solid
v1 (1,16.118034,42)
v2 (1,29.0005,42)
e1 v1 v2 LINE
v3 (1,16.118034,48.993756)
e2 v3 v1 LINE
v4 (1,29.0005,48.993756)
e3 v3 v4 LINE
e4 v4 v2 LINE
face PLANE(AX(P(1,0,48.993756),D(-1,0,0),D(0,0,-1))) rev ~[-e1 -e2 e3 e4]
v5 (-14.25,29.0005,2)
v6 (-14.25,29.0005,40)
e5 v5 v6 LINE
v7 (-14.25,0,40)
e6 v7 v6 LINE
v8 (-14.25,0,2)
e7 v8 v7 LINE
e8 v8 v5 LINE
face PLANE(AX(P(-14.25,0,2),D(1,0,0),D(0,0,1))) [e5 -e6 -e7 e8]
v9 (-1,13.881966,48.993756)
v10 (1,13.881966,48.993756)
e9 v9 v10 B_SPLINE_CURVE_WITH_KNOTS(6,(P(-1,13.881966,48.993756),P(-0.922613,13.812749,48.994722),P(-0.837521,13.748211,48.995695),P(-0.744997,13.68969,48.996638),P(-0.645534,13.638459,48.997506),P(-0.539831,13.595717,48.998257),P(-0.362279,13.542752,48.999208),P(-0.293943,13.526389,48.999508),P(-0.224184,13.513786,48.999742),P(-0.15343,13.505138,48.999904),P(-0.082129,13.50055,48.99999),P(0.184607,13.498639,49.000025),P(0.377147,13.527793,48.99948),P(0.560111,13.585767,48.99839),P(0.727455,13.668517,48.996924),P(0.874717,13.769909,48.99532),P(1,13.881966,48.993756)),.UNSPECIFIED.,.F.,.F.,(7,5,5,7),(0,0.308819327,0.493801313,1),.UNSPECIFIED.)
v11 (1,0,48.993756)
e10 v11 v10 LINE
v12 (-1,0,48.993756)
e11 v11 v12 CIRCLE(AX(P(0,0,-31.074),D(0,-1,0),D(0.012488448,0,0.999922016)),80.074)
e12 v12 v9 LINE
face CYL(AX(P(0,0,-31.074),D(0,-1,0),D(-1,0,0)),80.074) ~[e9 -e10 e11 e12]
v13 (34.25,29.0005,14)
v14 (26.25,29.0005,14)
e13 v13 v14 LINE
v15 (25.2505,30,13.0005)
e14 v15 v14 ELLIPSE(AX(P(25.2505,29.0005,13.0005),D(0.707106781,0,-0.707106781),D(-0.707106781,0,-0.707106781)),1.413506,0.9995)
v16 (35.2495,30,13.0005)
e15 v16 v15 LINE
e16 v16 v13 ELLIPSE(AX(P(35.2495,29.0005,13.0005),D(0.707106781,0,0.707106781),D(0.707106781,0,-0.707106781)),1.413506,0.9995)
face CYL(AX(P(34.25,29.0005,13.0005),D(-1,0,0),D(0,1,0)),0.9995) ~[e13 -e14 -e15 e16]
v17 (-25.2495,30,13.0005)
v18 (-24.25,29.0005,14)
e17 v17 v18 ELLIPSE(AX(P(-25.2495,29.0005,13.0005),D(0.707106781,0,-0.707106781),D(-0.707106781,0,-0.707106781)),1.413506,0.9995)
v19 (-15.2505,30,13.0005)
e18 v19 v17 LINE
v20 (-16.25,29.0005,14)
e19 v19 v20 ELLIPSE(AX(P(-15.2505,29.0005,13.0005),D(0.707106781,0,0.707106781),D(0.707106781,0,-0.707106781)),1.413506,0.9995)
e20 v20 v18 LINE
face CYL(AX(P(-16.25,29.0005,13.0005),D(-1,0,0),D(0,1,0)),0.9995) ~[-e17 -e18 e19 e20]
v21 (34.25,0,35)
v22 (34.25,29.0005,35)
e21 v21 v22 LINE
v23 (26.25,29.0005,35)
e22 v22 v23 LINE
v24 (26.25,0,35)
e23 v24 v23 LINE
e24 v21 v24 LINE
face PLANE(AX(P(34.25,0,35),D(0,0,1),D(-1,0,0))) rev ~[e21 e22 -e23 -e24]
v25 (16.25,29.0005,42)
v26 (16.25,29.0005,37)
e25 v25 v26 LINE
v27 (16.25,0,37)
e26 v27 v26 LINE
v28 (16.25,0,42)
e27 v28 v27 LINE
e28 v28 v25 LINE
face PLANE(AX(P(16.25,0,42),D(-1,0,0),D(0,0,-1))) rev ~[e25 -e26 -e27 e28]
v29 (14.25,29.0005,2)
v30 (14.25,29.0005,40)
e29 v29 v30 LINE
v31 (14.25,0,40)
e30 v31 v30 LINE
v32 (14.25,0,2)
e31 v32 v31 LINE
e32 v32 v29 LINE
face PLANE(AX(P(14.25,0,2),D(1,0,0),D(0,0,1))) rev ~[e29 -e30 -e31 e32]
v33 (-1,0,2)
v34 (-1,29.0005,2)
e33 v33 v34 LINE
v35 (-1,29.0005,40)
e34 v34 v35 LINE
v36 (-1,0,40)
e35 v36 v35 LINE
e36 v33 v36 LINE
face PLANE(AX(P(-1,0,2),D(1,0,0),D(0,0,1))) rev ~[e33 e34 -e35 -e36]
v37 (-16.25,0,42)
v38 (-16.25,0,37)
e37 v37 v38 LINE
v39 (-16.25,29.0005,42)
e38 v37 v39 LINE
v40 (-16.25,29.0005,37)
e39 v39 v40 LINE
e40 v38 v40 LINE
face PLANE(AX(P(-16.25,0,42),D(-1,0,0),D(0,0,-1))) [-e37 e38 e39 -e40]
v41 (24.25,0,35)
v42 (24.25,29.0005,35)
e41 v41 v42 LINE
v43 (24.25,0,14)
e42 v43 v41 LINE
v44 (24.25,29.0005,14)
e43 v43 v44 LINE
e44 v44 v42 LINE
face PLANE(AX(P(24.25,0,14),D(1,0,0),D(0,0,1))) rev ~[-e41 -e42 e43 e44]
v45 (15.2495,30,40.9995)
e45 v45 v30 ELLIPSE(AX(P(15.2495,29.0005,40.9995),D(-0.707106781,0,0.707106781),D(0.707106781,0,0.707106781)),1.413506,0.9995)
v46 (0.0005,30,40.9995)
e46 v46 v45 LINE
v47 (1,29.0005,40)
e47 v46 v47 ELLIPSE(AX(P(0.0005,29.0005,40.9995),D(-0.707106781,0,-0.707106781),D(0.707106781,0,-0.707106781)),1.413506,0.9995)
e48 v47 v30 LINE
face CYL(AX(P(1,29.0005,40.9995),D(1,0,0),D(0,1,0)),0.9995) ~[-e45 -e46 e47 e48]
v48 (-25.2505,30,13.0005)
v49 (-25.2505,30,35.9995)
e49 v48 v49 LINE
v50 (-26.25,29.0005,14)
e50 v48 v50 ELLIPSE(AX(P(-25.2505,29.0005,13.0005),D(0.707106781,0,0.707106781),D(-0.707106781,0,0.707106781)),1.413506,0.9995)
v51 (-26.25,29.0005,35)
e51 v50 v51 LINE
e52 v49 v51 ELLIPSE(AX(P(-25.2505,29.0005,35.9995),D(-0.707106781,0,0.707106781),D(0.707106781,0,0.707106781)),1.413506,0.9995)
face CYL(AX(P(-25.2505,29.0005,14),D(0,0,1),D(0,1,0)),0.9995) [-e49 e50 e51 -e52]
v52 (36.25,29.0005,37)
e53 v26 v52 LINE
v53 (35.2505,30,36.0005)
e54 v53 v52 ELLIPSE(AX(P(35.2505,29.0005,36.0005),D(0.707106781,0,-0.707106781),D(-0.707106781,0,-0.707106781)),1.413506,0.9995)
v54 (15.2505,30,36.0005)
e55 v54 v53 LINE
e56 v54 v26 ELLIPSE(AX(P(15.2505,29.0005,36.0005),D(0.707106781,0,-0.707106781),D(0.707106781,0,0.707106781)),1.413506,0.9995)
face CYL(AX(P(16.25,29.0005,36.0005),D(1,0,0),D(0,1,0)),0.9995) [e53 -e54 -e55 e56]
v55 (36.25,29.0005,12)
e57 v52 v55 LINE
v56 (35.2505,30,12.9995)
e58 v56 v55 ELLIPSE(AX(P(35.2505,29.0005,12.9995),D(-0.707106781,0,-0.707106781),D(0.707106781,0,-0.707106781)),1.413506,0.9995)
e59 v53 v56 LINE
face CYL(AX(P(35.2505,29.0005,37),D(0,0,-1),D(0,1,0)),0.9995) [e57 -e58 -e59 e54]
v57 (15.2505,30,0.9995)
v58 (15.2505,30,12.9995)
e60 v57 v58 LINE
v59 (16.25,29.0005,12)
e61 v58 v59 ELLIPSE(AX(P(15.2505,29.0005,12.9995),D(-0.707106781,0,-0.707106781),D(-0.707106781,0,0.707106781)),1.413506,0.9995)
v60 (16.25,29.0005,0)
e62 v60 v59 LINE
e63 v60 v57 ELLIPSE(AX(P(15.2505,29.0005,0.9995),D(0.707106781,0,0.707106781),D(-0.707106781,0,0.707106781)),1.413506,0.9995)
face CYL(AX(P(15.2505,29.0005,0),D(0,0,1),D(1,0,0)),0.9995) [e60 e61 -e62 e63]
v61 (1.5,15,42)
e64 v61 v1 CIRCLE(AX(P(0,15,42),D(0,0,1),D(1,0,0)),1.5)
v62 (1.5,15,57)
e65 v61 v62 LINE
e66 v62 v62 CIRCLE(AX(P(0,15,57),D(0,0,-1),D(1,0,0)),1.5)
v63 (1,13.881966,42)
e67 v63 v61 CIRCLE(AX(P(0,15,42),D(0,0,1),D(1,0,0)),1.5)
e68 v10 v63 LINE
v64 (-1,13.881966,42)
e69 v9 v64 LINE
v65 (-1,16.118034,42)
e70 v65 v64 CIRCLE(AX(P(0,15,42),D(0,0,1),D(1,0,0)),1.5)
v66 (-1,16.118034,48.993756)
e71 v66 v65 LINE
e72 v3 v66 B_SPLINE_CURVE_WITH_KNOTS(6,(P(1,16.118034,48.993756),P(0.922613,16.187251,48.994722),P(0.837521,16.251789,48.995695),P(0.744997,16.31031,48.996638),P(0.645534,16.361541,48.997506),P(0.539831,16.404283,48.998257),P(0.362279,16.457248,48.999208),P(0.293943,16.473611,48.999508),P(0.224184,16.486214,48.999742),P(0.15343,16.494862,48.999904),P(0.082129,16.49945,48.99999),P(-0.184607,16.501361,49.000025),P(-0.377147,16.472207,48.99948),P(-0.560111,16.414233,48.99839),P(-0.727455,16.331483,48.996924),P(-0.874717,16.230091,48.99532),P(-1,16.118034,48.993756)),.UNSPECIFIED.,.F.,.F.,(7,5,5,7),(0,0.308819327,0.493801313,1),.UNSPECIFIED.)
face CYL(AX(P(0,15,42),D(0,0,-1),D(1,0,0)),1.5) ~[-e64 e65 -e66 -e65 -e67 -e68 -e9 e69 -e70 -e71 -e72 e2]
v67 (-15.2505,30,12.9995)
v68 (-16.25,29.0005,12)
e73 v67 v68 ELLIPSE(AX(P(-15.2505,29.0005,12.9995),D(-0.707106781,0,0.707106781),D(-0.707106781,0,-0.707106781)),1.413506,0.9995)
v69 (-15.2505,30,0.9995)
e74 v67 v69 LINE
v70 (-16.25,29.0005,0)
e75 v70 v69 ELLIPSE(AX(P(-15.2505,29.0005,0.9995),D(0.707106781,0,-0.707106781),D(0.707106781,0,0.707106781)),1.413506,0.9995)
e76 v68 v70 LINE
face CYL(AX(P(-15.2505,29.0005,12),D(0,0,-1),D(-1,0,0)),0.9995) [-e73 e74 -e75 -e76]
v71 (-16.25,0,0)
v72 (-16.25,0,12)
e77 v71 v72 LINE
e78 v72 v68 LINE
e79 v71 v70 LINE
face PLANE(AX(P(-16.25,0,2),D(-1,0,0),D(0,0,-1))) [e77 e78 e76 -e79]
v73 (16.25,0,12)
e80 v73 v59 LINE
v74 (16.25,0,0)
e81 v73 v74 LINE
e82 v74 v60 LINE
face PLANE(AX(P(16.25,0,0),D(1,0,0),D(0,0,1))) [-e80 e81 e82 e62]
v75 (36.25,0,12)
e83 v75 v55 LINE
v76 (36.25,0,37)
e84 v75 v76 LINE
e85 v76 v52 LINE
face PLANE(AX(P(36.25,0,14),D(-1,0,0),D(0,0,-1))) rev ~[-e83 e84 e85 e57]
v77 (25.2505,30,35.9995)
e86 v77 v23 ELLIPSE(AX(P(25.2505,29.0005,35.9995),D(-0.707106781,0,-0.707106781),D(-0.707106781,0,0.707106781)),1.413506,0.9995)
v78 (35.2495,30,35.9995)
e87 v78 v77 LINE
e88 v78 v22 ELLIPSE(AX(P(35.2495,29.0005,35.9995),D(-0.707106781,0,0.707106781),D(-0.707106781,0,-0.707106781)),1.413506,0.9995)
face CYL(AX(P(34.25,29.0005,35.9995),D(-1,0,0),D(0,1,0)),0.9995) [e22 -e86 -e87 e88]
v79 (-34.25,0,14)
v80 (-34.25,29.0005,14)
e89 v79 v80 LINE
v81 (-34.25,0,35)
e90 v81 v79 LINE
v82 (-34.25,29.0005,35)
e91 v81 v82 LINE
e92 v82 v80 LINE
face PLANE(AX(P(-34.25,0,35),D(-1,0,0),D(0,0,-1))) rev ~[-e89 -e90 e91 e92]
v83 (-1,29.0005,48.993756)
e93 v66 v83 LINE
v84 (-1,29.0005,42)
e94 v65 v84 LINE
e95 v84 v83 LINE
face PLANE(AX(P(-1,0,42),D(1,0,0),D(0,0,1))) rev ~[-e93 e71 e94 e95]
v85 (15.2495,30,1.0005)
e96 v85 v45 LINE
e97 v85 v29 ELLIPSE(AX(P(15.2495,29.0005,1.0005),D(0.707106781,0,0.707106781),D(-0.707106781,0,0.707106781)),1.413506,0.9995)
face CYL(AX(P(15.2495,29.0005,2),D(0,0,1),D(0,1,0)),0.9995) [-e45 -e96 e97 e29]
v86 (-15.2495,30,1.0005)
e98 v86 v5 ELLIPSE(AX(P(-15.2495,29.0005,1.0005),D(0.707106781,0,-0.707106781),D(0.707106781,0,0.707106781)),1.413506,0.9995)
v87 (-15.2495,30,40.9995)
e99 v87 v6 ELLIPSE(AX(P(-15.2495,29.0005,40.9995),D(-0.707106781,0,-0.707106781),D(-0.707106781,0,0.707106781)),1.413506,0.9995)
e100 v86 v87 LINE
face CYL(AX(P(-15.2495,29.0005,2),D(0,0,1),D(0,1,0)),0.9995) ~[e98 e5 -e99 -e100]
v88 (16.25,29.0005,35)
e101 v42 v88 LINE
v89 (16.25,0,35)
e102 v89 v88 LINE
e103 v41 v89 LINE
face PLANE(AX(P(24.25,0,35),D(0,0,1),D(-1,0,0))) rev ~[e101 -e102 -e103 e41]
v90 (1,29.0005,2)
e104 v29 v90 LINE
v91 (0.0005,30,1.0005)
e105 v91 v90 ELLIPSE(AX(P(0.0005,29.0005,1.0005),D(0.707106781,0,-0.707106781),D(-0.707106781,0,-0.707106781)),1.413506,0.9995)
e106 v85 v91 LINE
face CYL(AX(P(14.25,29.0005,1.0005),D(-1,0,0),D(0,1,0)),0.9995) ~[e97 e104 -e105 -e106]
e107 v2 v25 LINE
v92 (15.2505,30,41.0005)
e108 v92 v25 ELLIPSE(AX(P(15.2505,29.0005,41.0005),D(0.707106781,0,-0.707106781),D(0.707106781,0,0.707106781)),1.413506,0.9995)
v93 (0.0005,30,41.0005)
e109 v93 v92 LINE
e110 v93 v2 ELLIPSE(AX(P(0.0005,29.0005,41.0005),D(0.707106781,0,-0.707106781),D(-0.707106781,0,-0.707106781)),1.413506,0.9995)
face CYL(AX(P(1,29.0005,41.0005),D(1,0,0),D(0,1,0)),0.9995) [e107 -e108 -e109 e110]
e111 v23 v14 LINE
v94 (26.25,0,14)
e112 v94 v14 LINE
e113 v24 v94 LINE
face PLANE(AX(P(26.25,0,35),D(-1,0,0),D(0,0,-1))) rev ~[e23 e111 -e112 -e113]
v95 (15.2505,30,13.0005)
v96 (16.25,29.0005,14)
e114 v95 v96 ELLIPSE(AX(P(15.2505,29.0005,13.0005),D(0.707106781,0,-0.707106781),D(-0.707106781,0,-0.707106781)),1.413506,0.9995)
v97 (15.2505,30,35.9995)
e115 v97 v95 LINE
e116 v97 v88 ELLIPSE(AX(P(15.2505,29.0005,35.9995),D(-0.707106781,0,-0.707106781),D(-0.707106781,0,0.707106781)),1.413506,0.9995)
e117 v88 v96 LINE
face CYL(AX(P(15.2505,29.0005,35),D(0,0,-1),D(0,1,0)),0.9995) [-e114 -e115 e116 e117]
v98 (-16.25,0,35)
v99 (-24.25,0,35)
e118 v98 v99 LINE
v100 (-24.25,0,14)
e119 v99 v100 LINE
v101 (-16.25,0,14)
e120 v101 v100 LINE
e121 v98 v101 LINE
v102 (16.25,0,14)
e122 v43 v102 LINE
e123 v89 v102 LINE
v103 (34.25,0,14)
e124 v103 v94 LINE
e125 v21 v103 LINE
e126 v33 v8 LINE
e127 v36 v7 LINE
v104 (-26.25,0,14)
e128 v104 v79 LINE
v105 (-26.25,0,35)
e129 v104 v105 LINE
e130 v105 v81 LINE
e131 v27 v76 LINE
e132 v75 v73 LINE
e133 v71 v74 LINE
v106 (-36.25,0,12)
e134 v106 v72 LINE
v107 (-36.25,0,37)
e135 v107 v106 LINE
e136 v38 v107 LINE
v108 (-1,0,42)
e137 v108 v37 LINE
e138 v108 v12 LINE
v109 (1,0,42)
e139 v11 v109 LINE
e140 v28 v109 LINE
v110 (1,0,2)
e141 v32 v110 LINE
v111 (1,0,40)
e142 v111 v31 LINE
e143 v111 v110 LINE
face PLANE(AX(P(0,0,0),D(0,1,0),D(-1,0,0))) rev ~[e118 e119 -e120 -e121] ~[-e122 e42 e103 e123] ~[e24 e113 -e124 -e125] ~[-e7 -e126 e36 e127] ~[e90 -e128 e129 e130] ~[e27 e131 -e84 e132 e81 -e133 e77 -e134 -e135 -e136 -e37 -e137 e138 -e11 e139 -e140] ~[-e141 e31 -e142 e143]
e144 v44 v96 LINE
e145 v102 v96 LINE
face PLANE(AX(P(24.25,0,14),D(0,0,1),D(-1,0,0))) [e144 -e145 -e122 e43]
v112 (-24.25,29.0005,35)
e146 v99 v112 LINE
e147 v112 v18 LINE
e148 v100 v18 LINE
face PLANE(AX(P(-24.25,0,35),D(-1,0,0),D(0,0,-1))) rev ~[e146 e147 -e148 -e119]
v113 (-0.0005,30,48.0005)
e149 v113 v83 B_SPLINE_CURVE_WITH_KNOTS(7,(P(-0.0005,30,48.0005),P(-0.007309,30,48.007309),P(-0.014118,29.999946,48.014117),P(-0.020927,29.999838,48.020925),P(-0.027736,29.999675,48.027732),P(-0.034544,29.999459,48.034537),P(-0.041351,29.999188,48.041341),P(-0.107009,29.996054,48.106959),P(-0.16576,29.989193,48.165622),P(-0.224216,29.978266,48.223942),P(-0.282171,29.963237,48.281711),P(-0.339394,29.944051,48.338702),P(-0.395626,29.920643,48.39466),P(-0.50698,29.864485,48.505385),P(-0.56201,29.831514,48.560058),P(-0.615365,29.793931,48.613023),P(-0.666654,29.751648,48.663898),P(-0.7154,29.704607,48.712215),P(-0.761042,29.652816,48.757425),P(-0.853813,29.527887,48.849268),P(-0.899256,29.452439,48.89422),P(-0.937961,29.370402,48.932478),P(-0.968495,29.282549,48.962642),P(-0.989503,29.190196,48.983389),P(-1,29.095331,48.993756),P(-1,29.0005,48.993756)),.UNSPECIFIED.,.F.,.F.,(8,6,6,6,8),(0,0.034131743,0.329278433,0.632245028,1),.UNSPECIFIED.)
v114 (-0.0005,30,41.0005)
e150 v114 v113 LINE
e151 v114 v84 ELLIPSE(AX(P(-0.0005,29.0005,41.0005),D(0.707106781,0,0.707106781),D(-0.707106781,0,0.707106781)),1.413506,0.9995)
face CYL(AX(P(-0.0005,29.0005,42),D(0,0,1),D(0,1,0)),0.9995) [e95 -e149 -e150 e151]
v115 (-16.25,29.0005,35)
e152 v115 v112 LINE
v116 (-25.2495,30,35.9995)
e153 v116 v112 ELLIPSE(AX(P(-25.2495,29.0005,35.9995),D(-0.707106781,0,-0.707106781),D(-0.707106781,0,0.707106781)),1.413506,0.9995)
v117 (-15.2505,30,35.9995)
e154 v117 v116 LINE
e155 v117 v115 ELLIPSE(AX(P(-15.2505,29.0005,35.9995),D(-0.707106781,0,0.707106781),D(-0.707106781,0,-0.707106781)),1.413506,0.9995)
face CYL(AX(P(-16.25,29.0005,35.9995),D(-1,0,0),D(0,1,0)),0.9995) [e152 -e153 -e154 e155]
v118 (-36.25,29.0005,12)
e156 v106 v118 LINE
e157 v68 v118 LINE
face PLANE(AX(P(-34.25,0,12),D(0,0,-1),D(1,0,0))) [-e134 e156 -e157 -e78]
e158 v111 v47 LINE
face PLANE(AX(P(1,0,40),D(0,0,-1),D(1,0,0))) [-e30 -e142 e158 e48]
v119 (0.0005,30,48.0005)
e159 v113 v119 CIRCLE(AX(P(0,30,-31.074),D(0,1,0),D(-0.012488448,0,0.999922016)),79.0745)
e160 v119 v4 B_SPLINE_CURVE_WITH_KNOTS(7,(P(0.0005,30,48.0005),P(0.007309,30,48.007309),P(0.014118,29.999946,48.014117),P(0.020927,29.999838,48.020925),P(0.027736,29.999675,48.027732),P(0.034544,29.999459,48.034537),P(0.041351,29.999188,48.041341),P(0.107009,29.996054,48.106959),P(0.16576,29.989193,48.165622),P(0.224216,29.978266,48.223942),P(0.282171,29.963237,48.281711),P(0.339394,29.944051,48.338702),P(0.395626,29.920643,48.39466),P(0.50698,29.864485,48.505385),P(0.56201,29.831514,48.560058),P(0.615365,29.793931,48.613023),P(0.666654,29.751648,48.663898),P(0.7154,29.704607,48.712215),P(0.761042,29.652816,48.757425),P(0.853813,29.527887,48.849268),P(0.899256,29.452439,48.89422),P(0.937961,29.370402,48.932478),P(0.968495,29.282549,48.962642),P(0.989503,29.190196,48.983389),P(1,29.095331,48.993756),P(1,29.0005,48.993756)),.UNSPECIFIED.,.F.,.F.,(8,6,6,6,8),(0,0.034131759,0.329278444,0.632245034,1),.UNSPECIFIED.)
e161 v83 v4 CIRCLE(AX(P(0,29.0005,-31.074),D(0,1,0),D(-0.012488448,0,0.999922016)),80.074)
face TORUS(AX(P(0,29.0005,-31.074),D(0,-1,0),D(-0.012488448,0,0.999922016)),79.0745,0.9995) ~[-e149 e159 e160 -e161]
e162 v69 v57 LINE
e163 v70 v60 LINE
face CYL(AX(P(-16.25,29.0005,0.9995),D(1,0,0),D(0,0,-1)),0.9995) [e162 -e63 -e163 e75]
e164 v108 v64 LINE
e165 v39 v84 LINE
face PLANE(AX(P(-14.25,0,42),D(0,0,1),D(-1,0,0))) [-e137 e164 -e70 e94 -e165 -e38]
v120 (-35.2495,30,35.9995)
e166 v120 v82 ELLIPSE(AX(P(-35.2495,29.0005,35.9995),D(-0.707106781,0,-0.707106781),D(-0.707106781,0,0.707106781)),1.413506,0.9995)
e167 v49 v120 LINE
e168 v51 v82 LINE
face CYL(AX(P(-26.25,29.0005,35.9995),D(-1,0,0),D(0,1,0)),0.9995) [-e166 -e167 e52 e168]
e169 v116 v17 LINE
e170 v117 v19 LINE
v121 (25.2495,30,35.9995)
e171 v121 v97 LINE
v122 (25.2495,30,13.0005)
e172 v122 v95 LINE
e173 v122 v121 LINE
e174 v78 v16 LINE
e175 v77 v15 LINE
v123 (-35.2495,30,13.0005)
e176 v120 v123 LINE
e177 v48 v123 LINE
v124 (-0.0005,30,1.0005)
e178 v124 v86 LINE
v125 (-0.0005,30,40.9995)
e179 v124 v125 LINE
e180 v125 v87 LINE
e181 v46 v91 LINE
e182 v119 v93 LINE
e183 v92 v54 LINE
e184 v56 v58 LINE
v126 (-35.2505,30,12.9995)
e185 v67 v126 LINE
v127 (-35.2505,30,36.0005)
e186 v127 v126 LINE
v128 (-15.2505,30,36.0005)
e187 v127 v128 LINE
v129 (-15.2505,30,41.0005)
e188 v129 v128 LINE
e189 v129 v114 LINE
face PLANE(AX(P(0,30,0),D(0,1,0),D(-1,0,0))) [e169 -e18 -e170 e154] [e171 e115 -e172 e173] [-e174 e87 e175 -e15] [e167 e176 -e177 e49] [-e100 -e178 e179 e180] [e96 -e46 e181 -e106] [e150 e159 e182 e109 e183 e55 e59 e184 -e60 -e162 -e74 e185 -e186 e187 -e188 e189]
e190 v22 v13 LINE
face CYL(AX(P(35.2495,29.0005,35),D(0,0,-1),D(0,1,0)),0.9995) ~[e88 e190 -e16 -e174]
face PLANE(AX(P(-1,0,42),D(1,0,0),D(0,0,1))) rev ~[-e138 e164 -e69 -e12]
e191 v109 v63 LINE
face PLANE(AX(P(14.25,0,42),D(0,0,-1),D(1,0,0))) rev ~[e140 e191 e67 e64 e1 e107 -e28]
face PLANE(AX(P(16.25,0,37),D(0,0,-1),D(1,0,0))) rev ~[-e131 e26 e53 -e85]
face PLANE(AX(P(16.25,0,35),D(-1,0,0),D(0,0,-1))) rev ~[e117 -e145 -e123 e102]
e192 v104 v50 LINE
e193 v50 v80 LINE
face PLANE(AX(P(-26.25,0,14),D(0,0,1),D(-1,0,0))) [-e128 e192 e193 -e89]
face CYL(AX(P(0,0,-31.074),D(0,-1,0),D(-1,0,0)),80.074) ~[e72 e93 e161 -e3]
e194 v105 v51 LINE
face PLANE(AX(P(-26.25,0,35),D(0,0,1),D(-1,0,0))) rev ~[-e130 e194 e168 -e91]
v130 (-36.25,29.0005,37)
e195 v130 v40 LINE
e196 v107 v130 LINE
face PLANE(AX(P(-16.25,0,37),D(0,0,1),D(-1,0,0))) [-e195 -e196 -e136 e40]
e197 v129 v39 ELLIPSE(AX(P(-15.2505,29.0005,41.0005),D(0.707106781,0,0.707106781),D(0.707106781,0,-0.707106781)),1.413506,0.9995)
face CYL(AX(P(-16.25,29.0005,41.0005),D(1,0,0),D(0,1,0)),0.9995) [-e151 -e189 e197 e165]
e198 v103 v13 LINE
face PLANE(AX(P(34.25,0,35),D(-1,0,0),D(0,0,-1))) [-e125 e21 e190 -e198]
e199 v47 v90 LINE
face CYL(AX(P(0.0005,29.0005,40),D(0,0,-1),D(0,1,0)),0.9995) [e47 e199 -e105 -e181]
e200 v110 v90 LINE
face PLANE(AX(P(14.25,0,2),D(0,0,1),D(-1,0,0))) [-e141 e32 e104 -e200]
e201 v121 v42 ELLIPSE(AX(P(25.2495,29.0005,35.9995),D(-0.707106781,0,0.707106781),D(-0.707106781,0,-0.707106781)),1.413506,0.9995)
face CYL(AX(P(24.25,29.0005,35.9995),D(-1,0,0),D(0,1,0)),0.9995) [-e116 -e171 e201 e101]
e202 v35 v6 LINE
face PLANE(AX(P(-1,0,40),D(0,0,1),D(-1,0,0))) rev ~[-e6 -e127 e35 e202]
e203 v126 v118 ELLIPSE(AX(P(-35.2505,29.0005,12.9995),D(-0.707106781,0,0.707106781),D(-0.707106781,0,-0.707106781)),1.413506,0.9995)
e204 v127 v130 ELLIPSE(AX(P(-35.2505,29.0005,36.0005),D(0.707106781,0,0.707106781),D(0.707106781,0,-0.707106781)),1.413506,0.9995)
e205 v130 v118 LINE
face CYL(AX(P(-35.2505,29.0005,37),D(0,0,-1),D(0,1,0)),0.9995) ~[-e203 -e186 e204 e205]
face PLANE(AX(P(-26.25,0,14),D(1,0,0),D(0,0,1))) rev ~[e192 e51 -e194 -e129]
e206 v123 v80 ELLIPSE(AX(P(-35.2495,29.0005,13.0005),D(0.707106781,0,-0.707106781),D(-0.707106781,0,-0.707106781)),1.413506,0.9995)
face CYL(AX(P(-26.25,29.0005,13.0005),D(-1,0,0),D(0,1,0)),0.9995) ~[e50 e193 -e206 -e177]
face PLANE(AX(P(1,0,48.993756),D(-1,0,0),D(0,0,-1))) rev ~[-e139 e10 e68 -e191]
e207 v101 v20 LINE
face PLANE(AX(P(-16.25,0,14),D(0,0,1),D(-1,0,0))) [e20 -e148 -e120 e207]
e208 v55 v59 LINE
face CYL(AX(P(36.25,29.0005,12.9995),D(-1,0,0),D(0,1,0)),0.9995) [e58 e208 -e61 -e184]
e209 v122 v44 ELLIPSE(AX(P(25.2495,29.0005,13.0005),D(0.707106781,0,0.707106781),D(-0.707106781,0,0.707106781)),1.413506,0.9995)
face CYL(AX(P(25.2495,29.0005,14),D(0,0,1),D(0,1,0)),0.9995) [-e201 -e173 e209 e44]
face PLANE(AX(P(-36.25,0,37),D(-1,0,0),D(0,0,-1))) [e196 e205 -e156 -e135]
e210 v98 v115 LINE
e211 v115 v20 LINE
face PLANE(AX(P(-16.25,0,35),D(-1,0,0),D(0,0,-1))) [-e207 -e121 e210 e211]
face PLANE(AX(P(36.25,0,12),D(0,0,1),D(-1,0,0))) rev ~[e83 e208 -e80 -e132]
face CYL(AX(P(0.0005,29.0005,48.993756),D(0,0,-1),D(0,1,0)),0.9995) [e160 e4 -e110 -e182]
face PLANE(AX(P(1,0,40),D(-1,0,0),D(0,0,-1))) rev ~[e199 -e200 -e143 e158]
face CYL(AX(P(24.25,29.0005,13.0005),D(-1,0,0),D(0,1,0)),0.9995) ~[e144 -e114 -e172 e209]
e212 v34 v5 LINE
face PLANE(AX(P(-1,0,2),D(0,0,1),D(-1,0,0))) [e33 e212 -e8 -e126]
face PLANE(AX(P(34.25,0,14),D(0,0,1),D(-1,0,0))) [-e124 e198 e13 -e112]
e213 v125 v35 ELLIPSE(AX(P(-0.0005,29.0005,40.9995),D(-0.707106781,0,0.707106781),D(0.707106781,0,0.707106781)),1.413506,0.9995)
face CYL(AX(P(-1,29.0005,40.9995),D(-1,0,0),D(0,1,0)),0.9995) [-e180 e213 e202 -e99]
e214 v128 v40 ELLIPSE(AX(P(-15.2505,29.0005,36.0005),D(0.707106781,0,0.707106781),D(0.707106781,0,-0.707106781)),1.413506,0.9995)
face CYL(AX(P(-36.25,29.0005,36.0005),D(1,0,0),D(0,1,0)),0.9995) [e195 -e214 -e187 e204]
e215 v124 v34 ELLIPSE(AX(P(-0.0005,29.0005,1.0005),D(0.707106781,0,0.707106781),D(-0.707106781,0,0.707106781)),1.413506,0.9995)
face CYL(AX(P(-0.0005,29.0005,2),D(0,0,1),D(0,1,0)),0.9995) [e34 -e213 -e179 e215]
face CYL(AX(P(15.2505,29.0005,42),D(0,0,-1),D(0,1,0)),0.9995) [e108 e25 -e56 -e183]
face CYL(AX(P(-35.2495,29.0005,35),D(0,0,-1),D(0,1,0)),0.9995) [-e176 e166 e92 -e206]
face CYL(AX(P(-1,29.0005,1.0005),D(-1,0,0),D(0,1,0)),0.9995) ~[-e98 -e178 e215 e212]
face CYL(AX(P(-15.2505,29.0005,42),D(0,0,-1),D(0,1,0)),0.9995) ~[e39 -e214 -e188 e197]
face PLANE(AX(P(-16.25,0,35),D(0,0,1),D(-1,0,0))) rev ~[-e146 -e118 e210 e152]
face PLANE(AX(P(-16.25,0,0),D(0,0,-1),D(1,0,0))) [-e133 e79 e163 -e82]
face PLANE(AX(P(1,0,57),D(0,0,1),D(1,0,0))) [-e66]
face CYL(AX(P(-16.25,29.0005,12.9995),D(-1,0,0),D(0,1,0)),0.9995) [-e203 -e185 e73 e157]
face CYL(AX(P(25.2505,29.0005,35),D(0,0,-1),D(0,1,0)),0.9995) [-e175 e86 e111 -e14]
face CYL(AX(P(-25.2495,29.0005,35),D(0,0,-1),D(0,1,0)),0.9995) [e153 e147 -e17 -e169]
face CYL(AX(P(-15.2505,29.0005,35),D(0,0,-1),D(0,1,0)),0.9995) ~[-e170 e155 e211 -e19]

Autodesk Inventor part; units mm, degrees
ref_plane "YZ Plane" through (0, 0, 0) normal (1, 0, 0) x (0, 1, 0)
ref_plane "XZ Plane" through (0, 0, 0) normal (0, 1, 0) x (-1, 0, 0)
ref_plane "XY Plane" through (0, 0, 0) normal (0, 0, 1) x (1, 0, 0)
sketch "Szkic1" plane through (0, 0, 0) normal (0, 1, 0) x (-1, 0, 0)
  line L0 (16.25, 0) -> (-16.25, 0)
  line L1 (-16.25, 0) -> (-16.25, 2)
  line L2 (-16.25, 2) -> (16.25, 2)
  line L3 (16.25, 2) -> (16.25, 0)
  line L4 (-1, 2) -> (1, 2)
  line L5 (1, 2) -> (1, 49)
  line L6 (1, 49) -> (-1, 49)
  line L7 (-1, 49) -> (-1, 2)
  line L8 (16.25, 2) -> (14.25, 2)
  line L9 (14.25, 2) -> (14.25, 42)
  line L10 (14.25, 42) -> (16.25, 42)
  line L11 (16.25, 42) -> (16.25, 2)
  line L12 (-16.25, 2) -> (-14.25, 2)
  line L13 (-14.25, 2) -> (-14.25, 42)
  line L14 (-14.25, 42) -> (-16.25, 42)
  line L15 (-16.25, 42) -> (-16.25, 2)
  line L16 (14.25, 42) -> (1, 42)
  line L17 (1, 42) -> (1, 40)
  line L18 (1, 40) -> (14.25, 40)
  line L19 (14.25, 40) -> (14.25, 42)
  line L20 (-14.25, 42) -> (-1, 42)
  line L21 (-1, 42) -> (-1, 40)
  line L22 (-1, 40) -> (-14.25, 40)
  line L23 (-14.25, 40) -> (-14.25, 42)
  line L24 (16.25, 37) -> (36.25, 37)
  line L25 (36.25, 37) -> (36.25, 12)
  line L26 (36.25, 12) -> (16.25, 12)
  line L27 (16.25, 12) -> (16.25, 37)
  line L28 (-16.25, 37) -> (-36.25, 37)
  line L29 (-36.25, 37) -> (-36.25, 12)
  line L30 (-36.25, 12) -> (-16.25, 12)
  line L31 (-16.25, 12) -> (-16.25, 37)
  circle A0 centre (0, -31.074) radius 80.074
  line L32 (36.25, 37) -> (34.25, 37)
  line L33 (34.25, 37) -> (34.25, 12)
  line L34 (34.25, 12) -> (36.25, 12)
  line L35 (36.25, 12) -> (36.25, 37)
  line L36 (34.25, 37) -> (16.25, 37)
  line L37 (16.25, 37) -> (16.25, 35)
  line L38 (16.25, 35) -> (34.25, 35)
  line L39 (34.25, 35) -> (34.25, 37)
  line L40 (34.25, 12) -> (16.25, 12)
  line L41 (16.25, 12) -> (16.25, 14)
  line L42 (16.25, 14) -> (34.25, 14)
  line L43 (34.25, 14) -> (34.25, 12)
  line L44 (-16.25, 37) -> (-36.25, 37)
  line L45 (-36.25, 37) -> (-36.25, 35)
  line L46 (-36.25, 35) -> (-16.25, 35)
  line L47 (-16.25, 35) -> (-16.25, 37)
  line L48 (-16.25, 12) -> (-36.25, 12)
  line L49 (-36.25, 12) -> (-36.25, 14)
  line L50 (-36.25, 14) -> (-16.25, 14)
  line L51 (-16.25, 14) -> (-16.25, 12)
  line L52 (-36.25, 35) -> (-34.25, 35)
  line L53 (-34.25, 35) -> (-34.25, 14)
  line L54 (-34.25, 14) -> (-36.25, 14)
  line L55 (-36.25, 14) -> (-36.25, 35)
  line L56 (26.25, 35) -> (24.25, 35)
  line L57 (24.25, 35) -> (24.25, 14)
  line L58 (24.25, 14) -> (26.25, 14)
  line L59 (26.25, 14) -> (26.25, 35)
  line L60 (-24.25, 35) -> (-26.25, 35)
  line L61 (-26.25, 35) -> (-26.25, 14)
  line L62 (-26.25, 14) -> (-24.25, 14)
  line L63 (-24.25, 14) -> (-24.25, 35)
  point P0 (0, 0)
  point P1 (0, 0)
  point P2 (0, 2)
  point P3 (7.625, 40)
  point P4 (7.625, 42)
  point P5 (0, 49)
  point P6 (26.25, 37)
  point P7 (26.25, 14)
  point P8 (1, 42)
  point P9 (1, 48.9938)
  point P10 (-1, 48.9938)
  point P11 (-1, 42)
  point P12 (-16.25, 12)
  point P13 (16.25, 12)
  point P14 (-16.25, 14)
  point P15 (16.25, 14)
  dimension "d0" = 32.5
  dimension "d1" = 2
  dimension "d2" = 2
  dimension "d3" = 49
  dimension "d4" = 40
  dimension "d5" = 2
  dimension "d6" = 2
  dimension "d7" = 2
  dimension "d8" = 20
  dimension "d9" = 20
  dimension "d10" = 25
  dimension "d11" = 25
  dimension "d12" = 160.148
  dimension "d13" = 80.074
  dimension "d14" = 5
  dimension "d15" = 5
  dimension "d16" = 2
  dimension "d17" = 2
  dimension "d18" = 2
  dimension "d19" = 2
  dimension "d20" = 2
  dimension "d21" = 2
  dimension "d22" = 2
  dimension "d23" = 8
  dimension "d24" = 8
extrude "Wyciągnięcie proste1" add sketch "Szkic1" along normal blind 30 contours L0 L1 L2 L3 | L2 L9 L10 L11 | L15 L14 L13 L2 | L11 L42 L33 L26 | L30 L29 L50 L15 | L2 L7 A0 L5 | L18 L5 L16 L9 | L33 L24 L25 L26 | L13 L20 L7 L22 | L11 L24 L33 L38 | L57 L38 L59 L42 | L46 L29 L28 L15 | L50 L61 L46 L63 | L29 L46 L53 L50
sketch "Szkic2" plane through (1, 0, 42) normal (0, 0, 1) x (1, 0, 0)
  circle A0 centre (-1, 15) radius 1.5
  line L0 (0, 30) -> (15.25, 30) projected
  line L1 (0, 0) -> (0, 30) projected
  point P0 (-1, 0)
  dimension "d27" = 3
  dimension "d30" = 15
  dimension "d31" = 1
extrude "Wyciągnięcie proste2" add sketch "Szkic2" along normal blind 15
fillet "Zaokrąglenie1" radius 1 40 edges at (36.25, 30, 24.5) (34.25, 30, 24.5) (26.25, 30, 37) (30.25, 30, 35) (26.25, 30, 24.5) (20.25, 30, 35) (24.25, 30, 24.5) (30.25, 30, 14) (26.25, 30, 12) (20.25, 30, 14) (1, 30, 45.4969) (0, 30, 49) (-1, 30, 45.4969) (8.625, 30, 42) (16.25, 30, 39.5) (16.25, 30, 24.5) (14.25, 30, 21) (16.25, 30, 6) (7.625, 30, 2) (0, 30, 0) (1, 30, 21) (-1, 30, 21) (7.625, 30, 40) (-7.625, 30, 40) (-8.625, 30, 42) (-16.25, 30, 39.5) (-14.25, 30, 21) (-16.25, 30, 24.5) (-26.25, 30, 37) (-20.25, 30, 35) (-24.25, 30, 24.5) (-26.25, 30, 24.5) (-30.25, 30, 35) (-34.25, 30, 24.5) (-36.25, 30, 24.5) (-30.25, 30, 14) (-26.25, 30, 12) (-20.25, 30, 14) (-16.25, 30, 6) (-7.625, 30, 2)
equation "\"d5\" = d2"
equation "\"d6\" = d2"
equation "\"d7\" = d1"
equation "\"d9\" = d8"
equation "\"d11\" = d10"
equation "\"d13\" = 0.5 * d12"
equation "\"d15\" = d14"
equation "\"d16\" = d6"
equation "\"d18\" = d17"
equation "\"d19\" = d18"
equation "\"d22\" = d21"
properties part number "klapy"
